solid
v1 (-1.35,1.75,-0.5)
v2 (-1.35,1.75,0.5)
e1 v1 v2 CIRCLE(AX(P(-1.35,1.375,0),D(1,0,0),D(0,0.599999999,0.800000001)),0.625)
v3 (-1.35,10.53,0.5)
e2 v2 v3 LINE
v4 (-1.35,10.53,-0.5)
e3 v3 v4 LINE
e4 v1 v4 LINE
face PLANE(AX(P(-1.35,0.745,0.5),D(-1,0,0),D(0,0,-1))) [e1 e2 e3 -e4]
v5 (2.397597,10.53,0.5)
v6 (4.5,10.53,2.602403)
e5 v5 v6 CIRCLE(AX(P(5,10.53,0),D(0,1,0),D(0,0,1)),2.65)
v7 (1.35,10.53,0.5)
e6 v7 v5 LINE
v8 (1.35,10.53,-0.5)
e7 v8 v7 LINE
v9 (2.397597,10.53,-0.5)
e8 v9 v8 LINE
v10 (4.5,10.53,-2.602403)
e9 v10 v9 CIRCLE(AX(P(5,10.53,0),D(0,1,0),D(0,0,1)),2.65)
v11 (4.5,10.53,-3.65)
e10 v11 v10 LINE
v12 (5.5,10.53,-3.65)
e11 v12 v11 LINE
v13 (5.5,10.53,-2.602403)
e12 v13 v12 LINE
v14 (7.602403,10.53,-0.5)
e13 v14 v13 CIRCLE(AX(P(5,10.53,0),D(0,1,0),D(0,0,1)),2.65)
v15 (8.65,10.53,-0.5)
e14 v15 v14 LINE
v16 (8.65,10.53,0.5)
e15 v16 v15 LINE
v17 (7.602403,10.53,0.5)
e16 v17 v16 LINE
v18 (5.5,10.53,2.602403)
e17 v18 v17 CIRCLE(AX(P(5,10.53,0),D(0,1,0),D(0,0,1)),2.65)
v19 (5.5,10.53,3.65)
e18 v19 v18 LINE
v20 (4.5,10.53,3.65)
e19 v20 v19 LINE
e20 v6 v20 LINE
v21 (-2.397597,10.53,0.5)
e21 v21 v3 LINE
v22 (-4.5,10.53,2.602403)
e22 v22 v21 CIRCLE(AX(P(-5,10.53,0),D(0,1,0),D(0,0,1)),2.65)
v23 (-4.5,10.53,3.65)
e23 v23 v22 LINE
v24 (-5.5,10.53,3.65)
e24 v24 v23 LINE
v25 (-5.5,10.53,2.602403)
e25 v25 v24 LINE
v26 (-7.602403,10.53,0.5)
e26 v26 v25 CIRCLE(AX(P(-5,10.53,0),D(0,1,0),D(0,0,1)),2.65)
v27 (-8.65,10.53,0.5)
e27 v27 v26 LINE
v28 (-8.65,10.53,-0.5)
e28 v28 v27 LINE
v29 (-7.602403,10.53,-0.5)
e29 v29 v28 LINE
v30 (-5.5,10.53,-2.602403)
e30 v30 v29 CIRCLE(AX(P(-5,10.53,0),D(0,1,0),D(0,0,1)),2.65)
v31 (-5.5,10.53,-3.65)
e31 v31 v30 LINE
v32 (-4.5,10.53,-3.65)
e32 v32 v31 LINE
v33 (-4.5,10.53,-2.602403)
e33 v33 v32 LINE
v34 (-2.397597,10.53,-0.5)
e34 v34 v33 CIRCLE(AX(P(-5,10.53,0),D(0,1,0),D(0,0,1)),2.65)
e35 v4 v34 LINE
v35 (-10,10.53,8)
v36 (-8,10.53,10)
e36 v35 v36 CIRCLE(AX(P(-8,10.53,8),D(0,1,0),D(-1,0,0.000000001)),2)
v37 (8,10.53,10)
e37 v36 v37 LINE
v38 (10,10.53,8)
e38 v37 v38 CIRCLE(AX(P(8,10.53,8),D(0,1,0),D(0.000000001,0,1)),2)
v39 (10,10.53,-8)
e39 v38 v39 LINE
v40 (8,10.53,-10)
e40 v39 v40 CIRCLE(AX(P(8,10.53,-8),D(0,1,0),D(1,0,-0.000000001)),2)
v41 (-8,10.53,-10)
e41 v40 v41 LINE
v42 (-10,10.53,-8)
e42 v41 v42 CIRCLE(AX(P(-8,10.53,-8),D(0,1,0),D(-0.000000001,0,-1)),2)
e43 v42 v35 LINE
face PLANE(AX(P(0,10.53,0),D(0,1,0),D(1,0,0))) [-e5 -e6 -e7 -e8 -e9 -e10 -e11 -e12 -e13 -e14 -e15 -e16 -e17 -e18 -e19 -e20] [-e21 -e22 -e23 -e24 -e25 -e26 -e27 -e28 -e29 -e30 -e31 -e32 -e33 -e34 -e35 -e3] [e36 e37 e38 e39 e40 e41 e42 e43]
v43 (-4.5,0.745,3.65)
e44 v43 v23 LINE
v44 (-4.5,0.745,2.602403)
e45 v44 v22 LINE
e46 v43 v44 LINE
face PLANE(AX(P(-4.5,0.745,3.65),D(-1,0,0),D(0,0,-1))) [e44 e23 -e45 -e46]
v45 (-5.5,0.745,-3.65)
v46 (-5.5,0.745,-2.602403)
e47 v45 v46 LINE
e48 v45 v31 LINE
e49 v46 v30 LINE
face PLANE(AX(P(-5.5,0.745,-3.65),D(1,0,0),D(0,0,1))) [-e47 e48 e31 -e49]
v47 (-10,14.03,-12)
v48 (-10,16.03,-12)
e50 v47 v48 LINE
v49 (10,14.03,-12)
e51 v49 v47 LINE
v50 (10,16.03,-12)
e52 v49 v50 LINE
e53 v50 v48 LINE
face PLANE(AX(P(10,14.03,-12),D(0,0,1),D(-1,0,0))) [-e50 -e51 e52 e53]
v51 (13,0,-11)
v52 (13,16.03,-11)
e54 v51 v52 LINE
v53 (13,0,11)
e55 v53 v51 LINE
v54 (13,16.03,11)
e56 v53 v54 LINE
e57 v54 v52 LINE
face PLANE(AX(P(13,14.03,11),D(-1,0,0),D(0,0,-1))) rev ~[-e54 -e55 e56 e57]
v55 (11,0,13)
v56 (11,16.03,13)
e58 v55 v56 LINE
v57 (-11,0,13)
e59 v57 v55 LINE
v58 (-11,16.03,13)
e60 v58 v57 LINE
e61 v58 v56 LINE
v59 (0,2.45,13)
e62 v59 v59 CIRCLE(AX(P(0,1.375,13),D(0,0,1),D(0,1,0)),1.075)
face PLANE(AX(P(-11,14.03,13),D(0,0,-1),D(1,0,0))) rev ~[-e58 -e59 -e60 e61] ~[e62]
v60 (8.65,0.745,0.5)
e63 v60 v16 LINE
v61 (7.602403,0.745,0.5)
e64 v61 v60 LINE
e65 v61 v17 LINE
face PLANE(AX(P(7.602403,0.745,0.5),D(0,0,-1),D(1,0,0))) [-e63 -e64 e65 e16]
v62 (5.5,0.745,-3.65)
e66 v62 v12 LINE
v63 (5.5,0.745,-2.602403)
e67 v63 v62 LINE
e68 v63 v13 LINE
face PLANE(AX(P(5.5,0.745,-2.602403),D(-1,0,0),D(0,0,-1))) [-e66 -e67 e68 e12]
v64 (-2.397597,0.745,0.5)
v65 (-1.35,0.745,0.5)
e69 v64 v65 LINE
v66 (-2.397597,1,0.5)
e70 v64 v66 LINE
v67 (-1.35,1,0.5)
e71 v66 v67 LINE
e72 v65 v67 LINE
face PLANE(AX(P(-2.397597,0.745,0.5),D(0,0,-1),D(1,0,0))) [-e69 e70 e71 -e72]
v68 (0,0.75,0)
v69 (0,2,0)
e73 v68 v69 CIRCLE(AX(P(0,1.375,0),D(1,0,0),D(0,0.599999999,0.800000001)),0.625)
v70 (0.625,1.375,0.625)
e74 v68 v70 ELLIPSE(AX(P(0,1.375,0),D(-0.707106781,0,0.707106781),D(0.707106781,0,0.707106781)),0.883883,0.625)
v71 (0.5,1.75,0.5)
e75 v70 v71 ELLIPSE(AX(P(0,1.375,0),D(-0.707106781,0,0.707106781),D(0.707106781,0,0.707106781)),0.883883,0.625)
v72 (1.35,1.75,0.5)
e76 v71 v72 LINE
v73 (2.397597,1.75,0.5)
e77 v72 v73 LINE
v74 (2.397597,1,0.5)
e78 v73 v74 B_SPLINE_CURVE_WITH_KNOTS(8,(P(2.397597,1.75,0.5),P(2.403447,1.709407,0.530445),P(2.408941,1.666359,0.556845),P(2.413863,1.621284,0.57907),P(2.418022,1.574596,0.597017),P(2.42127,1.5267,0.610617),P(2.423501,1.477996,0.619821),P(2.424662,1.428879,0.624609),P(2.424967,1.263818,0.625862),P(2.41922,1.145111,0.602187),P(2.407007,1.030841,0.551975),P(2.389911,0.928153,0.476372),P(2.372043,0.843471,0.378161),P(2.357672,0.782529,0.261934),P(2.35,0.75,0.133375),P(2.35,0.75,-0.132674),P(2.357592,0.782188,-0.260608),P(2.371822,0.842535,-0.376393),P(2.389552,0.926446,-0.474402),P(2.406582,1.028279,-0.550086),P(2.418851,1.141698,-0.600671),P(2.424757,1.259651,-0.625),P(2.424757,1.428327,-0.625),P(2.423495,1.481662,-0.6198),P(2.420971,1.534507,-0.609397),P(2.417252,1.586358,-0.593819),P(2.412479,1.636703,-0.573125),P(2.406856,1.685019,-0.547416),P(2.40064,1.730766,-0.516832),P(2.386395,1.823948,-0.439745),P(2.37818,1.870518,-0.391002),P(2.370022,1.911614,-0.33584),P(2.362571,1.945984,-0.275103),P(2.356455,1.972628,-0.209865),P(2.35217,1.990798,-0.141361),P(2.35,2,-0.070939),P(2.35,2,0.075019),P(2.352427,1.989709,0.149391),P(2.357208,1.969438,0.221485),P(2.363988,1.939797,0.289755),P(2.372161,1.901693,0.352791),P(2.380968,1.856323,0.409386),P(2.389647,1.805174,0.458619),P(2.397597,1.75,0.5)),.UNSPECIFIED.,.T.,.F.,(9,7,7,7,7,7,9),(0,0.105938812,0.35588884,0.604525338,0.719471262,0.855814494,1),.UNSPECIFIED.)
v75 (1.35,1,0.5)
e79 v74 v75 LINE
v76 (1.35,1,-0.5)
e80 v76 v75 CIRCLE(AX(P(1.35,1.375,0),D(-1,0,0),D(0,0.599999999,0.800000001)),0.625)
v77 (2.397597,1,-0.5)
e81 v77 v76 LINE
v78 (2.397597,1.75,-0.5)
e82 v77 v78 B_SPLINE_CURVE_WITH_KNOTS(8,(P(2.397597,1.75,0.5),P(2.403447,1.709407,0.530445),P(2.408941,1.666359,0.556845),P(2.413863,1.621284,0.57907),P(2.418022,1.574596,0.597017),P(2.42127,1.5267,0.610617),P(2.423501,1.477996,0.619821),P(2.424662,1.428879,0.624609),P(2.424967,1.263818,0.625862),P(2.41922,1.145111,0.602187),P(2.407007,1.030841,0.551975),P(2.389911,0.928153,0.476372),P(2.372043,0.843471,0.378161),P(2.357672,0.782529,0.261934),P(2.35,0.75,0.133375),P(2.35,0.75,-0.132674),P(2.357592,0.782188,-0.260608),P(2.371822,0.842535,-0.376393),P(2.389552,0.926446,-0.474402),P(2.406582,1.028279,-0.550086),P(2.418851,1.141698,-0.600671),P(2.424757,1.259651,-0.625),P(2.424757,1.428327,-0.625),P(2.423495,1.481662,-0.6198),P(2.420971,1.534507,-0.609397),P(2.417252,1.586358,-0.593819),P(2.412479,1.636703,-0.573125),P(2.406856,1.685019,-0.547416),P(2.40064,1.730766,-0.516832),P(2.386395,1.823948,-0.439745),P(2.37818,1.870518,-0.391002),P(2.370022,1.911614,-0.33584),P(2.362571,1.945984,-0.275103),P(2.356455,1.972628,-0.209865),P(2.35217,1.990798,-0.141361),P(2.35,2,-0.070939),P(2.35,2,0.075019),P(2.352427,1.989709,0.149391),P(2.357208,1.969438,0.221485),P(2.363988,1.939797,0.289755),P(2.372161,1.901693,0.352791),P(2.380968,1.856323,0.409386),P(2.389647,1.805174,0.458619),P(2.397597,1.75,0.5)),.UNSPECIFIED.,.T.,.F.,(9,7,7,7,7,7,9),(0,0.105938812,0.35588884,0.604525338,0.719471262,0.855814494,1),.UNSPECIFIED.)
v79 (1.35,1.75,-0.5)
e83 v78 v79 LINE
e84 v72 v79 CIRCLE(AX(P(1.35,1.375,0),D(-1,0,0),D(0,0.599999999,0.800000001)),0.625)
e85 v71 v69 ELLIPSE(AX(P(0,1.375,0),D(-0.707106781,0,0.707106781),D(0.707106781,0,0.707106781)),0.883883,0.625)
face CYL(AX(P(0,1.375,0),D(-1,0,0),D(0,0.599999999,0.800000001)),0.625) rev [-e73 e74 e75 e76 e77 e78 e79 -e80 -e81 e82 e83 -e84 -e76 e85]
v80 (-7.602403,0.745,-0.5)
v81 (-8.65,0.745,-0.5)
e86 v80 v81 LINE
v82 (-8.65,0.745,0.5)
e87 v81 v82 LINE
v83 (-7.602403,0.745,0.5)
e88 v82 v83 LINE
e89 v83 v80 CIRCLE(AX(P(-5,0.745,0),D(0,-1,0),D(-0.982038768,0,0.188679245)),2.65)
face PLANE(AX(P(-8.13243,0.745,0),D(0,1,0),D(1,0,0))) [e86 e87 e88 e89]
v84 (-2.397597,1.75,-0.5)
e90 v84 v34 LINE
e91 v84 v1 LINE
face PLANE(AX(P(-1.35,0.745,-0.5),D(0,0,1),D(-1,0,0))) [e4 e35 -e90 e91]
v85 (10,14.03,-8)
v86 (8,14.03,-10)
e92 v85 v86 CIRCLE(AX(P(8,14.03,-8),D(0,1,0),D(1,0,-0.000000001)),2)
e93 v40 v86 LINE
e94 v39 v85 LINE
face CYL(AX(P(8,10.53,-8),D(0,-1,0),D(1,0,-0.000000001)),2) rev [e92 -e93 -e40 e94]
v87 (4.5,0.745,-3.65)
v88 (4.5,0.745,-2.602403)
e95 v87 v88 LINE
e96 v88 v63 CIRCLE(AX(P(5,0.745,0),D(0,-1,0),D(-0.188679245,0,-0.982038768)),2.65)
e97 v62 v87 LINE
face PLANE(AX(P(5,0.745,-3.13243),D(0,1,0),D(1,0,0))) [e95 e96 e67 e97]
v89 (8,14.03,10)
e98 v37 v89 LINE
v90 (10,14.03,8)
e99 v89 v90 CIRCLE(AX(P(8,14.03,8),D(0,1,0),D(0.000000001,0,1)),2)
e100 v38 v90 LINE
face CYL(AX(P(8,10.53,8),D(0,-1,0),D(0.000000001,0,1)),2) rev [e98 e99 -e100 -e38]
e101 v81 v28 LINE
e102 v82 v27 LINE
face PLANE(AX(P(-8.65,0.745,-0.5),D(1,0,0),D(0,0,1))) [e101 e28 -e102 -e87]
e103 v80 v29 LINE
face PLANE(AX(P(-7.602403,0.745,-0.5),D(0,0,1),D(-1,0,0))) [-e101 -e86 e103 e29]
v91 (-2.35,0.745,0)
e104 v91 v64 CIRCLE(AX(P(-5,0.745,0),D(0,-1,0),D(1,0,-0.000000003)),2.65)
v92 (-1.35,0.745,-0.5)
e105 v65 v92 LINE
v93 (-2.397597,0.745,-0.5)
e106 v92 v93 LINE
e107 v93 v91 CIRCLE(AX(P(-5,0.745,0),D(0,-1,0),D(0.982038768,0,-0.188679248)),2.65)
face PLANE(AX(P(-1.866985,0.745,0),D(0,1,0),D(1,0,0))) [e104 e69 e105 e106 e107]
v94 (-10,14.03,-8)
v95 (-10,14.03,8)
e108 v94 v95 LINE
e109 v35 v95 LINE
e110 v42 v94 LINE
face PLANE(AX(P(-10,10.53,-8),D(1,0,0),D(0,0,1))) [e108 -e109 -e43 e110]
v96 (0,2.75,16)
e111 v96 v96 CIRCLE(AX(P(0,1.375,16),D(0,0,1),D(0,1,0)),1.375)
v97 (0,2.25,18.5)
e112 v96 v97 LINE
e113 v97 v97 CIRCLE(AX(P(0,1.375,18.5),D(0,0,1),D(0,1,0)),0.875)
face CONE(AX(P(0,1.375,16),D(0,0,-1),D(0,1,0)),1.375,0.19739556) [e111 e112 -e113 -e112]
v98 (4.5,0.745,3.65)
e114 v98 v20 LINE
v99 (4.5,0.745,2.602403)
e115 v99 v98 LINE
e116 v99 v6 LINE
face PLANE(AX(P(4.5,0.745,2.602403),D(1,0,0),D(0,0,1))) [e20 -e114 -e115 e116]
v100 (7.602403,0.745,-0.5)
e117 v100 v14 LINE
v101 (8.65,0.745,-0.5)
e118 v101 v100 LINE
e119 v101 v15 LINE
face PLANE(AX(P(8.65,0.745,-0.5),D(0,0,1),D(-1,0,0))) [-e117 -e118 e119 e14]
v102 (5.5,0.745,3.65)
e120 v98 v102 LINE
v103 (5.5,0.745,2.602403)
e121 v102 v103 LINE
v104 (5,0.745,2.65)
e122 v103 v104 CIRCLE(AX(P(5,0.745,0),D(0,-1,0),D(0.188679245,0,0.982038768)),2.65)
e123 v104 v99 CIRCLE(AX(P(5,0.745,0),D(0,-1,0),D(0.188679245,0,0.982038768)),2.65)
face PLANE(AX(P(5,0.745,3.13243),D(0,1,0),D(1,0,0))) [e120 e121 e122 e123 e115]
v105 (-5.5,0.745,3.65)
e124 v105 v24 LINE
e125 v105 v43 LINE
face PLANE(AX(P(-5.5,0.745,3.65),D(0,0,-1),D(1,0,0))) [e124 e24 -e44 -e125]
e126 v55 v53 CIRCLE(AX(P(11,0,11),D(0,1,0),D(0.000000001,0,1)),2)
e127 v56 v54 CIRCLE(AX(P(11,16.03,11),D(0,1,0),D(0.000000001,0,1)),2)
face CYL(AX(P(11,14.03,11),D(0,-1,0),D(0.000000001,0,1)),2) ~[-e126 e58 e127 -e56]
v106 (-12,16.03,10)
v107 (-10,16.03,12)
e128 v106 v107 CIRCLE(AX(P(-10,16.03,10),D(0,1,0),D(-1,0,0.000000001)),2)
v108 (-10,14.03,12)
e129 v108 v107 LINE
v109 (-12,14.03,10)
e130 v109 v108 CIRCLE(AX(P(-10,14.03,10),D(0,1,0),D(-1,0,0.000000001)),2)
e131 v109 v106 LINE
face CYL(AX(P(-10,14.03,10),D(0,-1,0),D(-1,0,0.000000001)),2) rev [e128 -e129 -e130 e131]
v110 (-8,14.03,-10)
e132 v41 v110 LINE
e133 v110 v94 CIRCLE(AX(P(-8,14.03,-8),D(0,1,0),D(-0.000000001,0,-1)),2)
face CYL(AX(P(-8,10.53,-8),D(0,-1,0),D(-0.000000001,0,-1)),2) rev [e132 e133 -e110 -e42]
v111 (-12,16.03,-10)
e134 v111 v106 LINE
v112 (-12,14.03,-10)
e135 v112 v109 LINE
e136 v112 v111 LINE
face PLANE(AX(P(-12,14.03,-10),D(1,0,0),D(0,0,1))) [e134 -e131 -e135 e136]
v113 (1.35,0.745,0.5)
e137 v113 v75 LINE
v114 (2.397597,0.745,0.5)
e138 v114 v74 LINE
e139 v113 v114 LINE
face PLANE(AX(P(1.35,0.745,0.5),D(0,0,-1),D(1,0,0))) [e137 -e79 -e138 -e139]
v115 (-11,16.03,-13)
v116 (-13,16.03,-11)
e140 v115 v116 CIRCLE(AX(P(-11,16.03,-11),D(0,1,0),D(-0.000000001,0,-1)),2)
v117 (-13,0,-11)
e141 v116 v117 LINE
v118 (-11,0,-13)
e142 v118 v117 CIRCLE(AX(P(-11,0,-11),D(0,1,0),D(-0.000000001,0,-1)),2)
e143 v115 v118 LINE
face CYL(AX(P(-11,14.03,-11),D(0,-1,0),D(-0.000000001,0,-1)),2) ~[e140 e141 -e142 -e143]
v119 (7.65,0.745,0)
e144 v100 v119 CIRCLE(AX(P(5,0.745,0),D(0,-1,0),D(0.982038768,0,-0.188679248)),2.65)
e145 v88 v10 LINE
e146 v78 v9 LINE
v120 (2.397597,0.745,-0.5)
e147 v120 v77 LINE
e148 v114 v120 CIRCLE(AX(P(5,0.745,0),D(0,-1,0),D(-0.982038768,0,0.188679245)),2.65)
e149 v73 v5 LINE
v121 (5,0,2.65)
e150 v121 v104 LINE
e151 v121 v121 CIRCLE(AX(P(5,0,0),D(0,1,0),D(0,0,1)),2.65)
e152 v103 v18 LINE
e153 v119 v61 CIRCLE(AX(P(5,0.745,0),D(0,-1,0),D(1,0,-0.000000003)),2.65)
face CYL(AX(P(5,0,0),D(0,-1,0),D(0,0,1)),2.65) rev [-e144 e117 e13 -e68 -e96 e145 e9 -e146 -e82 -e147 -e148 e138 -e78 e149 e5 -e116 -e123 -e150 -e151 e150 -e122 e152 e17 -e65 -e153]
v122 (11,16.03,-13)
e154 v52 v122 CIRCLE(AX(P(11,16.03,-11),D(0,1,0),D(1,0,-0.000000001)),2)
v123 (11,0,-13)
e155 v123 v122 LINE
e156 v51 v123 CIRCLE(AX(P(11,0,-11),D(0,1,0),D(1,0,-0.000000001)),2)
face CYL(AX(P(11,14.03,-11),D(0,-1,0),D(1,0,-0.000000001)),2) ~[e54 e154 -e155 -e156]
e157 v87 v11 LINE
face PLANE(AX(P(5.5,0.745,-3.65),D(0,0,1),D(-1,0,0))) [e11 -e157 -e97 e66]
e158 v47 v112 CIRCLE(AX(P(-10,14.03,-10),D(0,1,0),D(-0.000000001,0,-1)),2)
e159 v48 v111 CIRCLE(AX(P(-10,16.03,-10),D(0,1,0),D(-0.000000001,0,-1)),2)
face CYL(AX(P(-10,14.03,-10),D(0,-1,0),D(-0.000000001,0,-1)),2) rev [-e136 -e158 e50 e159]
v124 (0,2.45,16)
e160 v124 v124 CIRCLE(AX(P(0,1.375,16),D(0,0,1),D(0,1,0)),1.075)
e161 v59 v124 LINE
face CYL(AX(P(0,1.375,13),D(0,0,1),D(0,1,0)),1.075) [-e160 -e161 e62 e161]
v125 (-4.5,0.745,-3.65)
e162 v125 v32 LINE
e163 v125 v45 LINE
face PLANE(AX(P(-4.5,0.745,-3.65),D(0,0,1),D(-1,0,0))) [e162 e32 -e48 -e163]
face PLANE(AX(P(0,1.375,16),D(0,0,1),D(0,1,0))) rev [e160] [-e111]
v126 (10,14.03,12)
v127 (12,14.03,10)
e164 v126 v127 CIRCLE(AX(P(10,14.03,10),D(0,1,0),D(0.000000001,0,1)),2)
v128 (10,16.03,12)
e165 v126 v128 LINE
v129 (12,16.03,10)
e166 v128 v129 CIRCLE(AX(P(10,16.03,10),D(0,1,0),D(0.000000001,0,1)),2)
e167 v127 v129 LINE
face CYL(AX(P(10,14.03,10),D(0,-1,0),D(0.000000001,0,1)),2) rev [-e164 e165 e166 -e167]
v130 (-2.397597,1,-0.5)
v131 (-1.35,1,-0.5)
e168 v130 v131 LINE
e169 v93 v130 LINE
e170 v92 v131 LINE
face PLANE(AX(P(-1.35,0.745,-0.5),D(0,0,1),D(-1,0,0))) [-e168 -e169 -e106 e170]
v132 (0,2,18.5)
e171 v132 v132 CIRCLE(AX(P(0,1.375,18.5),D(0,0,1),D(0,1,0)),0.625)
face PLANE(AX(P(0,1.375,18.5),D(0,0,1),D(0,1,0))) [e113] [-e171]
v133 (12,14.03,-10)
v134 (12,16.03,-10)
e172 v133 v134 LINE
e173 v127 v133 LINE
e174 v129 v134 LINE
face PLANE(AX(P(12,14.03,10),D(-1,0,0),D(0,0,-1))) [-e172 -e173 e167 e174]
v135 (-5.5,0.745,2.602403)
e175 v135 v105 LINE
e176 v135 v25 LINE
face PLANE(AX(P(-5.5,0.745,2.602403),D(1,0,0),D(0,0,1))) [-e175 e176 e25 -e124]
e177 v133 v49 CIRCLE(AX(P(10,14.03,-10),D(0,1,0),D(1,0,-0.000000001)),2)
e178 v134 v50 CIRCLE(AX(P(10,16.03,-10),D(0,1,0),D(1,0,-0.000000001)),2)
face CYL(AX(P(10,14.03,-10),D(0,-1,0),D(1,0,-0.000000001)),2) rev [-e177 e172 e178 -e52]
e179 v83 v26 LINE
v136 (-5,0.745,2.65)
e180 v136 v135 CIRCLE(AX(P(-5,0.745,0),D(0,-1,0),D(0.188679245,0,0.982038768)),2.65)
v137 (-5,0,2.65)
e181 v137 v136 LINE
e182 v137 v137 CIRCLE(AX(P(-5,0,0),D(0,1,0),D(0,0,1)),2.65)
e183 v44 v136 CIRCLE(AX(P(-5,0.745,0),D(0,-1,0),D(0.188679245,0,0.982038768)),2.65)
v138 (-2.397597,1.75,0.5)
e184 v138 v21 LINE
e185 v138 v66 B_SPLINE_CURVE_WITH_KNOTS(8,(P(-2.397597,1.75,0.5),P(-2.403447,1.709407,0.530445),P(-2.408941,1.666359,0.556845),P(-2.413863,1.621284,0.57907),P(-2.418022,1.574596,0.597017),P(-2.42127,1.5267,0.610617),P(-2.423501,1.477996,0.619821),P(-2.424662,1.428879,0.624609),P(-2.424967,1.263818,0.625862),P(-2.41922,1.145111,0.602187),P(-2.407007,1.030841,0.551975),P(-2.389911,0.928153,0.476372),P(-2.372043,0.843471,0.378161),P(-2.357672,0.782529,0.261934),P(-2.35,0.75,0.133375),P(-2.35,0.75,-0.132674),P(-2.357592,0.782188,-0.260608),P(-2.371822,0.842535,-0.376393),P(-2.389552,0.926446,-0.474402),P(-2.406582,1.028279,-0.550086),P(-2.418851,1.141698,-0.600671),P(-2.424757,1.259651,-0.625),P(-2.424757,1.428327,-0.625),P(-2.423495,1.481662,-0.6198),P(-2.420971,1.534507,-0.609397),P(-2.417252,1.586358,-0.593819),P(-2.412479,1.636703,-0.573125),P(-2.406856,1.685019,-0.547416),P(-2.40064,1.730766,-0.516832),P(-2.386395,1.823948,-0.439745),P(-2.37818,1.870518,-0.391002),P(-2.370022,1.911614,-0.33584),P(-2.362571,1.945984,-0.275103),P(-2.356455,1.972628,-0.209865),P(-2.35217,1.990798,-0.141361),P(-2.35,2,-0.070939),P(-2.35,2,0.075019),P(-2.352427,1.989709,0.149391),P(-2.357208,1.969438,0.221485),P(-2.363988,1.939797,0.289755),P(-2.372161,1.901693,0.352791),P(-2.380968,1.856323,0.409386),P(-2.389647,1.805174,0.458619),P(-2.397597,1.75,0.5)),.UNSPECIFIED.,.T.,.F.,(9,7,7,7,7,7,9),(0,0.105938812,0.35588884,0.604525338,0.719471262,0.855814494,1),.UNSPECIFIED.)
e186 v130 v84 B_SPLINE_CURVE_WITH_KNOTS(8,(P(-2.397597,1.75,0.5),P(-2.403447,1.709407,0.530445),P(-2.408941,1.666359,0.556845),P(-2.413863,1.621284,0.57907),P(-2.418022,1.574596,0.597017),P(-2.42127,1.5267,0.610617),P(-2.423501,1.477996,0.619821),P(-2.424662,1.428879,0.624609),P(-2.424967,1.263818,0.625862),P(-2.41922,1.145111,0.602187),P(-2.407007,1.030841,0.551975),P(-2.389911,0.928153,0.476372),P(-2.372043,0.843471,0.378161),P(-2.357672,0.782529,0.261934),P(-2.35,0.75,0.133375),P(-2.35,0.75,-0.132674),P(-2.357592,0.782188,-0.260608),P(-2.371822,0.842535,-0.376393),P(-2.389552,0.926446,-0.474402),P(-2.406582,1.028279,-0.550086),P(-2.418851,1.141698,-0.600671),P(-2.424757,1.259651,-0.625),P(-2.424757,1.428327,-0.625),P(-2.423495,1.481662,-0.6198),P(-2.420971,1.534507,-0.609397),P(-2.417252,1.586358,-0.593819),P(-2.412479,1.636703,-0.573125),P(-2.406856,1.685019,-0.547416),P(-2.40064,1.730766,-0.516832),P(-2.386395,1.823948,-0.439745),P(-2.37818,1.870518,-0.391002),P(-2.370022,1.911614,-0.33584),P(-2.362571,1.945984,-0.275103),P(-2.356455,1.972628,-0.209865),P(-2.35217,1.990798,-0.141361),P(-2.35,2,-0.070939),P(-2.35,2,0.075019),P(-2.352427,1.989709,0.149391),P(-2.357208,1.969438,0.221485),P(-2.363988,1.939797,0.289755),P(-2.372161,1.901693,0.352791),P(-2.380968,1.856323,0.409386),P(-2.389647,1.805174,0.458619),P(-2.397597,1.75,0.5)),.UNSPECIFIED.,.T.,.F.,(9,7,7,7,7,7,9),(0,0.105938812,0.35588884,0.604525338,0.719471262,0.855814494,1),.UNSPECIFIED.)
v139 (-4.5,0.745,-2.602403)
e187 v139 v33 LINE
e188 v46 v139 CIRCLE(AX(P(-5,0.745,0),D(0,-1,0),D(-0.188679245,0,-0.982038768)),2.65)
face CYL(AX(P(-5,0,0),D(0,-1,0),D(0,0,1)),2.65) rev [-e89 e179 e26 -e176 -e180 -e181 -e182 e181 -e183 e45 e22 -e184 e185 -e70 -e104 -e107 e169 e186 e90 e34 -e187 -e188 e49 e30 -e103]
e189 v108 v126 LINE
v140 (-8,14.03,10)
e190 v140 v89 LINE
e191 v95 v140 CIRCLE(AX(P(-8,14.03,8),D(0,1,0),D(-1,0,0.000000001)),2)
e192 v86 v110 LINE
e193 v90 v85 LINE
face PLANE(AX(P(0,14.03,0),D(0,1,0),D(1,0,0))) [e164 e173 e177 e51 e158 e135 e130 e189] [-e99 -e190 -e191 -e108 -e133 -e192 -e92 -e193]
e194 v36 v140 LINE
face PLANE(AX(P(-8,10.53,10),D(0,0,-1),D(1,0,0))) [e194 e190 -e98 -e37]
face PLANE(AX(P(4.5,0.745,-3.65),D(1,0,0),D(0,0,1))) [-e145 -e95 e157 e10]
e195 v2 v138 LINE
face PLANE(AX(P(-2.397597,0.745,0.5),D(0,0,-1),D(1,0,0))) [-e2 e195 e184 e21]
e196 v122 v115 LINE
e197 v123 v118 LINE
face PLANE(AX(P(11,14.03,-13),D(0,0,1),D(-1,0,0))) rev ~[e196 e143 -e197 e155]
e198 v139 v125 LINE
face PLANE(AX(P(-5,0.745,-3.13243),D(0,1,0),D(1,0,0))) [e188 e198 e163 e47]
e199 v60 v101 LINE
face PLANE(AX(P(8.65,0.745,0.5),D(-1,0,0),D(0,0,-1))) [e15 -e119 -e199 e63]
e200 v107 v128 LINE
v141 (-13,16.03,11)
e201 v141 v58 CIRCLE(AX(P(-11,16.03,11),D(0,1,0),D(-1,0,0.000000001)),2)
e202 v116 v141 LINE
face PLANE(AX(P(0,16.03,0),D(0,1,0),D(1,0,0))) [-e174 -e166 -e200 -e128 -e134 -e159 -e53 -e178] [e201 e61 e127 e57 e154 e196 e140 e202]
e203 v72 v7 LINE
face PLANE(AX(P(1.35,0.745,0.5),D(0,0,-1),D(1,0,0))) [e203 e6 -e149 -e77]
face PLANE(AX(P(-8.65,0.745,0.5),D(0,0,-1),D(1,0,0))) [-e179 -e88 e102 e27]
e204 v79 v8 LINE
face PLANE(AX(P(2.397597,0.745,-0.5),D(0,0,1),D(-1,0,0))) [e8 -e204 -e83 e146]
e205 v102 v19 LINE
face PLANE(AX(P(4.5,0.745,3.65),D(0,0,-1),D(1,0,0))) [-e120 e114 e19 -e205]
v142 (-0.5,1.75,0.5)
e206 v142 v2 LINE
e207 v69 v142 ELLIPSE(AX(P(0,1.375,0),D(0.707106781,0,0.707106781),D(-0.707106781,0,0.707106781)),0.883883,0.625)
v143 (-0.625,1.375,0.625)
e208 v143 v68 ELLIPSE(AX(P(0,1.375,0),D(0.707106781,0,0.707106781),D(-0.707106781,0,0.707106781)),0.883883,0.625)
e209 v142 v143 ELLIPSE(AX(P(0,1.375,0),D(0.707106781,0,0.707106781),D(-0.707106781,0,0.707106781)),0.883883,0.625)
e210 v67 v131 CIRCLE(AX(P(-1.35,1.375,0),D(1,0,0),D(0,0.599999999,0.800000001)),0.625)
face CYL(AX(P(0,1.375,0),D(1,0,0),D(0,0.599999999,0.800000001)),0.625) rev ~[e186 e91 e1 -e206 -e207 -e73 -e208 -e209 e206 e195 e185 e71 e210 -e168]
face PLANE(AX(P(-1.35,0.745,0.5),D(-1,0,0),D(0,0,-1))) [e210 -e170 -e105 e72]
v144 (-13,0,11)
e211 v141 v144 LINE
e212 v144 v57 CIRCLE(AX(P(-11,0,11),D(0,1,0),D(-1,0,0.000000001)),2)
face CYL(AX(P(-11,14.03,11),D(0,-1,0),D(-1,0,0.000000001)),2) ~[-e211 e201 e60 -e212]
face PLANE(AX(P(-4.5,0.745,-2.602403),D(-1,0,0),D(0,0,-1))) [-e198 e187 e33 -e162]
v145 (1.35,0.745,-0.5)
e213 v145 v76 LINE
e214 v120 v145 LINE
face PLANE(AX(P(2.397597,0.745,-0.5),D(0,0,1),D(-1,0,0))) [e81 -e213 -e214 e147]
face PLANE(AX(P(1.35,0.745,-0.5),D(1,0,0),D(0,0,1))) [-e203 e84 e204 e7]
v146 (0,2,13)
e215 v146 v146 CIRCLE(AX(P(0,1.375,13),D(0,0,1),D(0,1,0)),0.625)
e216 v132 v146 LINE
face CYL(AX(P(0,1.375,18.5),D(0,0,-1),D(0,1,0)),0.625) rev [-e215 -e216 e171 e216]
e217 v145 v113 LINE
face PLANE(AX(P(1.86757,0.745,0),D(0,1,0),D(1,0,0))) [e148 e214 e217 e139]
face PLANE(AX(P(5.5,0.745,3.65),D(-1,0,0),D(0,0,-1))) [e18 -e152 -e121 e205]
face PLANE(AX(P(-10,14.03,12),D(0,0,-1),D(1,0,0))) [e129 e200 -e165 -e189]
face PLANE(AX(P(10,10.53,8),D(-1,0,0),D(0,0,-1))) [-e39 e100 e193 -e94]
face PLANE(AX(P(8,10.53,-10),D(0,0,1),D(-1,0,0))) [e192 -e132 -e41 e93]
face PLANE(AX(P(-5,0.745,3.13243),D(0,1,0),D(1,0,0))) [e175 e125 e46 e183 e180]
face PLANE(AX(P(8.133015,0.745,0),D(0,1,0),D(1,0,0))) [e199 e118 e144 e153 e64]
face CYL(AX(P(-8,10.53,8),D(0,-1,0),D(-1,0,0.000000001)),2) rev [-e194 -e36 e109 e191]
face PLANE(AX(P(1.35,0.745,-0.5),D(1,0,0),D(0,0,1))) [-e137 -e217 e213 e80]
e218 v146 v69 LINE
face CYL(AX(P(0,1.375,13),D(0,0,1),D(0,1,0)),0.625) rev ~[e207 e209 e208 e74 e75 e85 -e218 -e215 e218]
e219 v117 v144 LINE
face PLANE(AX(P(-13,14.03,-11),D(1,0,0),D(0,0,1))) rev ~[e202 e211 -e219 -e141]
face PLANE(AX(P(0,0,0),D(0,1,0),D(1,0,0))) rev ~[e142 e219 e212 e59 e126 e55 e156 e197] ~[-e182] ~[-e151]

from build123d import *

# Parameters (mm, degrees)
SKETCH1_R                      = 2.65
BOSS_EXTRUDE1_DEPTH            = 10.53
CUT_EXTRUDE1_START             = -9.785
CUT_EXTRUDE1_DEPTH             = 9.785
CUT_EXTRUDE3_REACH             = 26.943
SKETCH10_R                     = 0.625
CUT_EXTRUDE3_DIRECTION_2_REACH = 26.943
CUT_EXTRUDE2_REACH             = 32.917
SKETCH5_R                      = 0.625
BOSS_EXTRUDE2_DEPTH            = 3.5
BOSS_EXTRUDE3_DEPTH            = 2


with BuildPart() as part:
    # Sketch1 → Boss-Extrude1 (new body)
    with BuildSketch(Plane(origin=(0, 0, 0), x_dir=(1, 0, 0), z_dir=(0, 1, 0))):
        with BuildLine():
            Line((-11, -13), (11, -13))
            ThreePointArc((11, -13), (12.414213562, -12.414213562), (13, -11))
            Line((13, -11), (13, 11))
            ThreePointArc((13, 11), (12.414213562, 12.414213562), (11, 13))
            Line((11, 13), (-11, 13))
            ThreePointArc((-11, 13), (-12.414213562, 12.414213562), (-13, 11))
            Line((-13, 11), (-13, -11))
            ThreePointArc((-13, -11), (-12.414213562, -12.414213562), (-11, -13))
        make_face()
        with Locations(Location((5, 0, 0), (0, 0, 270))):
            Circle(SKETCH1_R, mode=Mode.SUBTRACT)
        with Locations(Location((-5, 0, 0), (0, 0, 270))):
            Circle(SKETCH1_R, mode=Mode.SUBTRACT)
    extrude(amount=BOSS_EXTRUDE1_DEPTH)

    # Sketch2 → Cut-Extrude1 (cut)
    with BuildSketch(Plane(origin=(0, 10.53, 0), x_dir=(1, 0, 0), z_dir=(0, 1, 0)).offset(CUT_EXTRUDE1_START)):
        with BuildLine():
            Line((4.5, 3.65), (4.5, 2.602402736))
            ThreePointArc((4.5, 2.602402736), (5, 2.65), (5.5, 2.602402736))
            Line((5.5, 2.602402736), (5.5, 3.65))
            Line((5.5, 3.65), (4.5, 3.65))
        make_face()
        with BuildLine():
            ThreePointArc((7.65, 0), (7.638073848, -0.251130195), (7.602402736, -0.5))
            Line((7.602402736, -0.5), (8.65, -0.5))
            Line((8.65, -0.5), (8.65, 0.5))
            Line((8.65, 0.5), (7.602402736, 0.5))
            ThreePointArc((7.602402736, 0.5), (7.638073848, 0.251130195), (7.65, 0))
        make_face()
        with BuildLine():
            Line((4.5, -2.602402736), (4.5, -3.65))
            Line((4.5, -3.65), (5.5, -3.65))
            Line((5.5, -3.65), (5.5, -2.602402736))
            ThreePointArc((5.5, -2.602402736), (5, -2.65), (4.5, -2.602402736))
        make_face()
        with BuildLine():
            Line((1.35, -0.5), (2.397597264, -0.5))
            ThreePointArc((2.397597264, -0.5), (2.35, 0), (2.397597264, 0.5))
            Line((2.397597264, 0.5), (1.35, 0.5))
            Line((1.35, 0.5), (1.35, -0.5))
        make_face()
        with BuildLine():
            ThreePointArc((-2.35, 0), (-2.361926152, -0.251130195), (-2.397597264, -0.5))
            Line((-2.397597264, -0.5), (-1.35, -0.5))
            Line((-1.35, -0.5), (-1.35, 0.5))
            Line((-1.35, 0.5), (-2.397597264, 0.5))
            ThreePointArc((-2.397597264, 0.5), (-2.361926152, 0.251130195), (-2.35, 0))
        make_face()
        with BuildLine():
            Line((-5.5, 3.65), (-5.5, 2.602402736))
            ThreePointArc((-5.5, 2.602402736), (-5, 2.65), (-4.5, 2.602402736))
            Line((-4.5, 2.602402736), (-4.5, 3.65))
            Line((-4.5, 3.65), (-5.5, 3.65))
        make_face()
        with BuildLine():
            Line((-8.65, 0.5), (-8.65, -0.5))
            Line((-8.65, -0.5), (-7.602402736, -0.5))
            ThreePointArc((-7.602402736, -0.5), (-7.65, 0), (-7.602402736, 0.5))
            Line((-7.602402736, 0.5), (-8.65, 0.5))
        make_face()
        with BuildLine():
            ThreePointArc((-4.5, -2.602402736), (-5, -2.65), (-5.5, -2.602402736))
            Line((-5.5, -2.602402736), (-5.5, -3.65))
            Line((-5.5, -3.65), (-4.5, -3.65))
            Line((-4.5, -3.65), (-4.5, -2.602402736))
        make_face()
    extrude(amount=CUT_EXTRUDE1_DEPTH, mode=Mode.SUBTRACT)

    # Sketch3 → Revolve1 (revolve)
    with BuildSketch(Plane(origin=(0, 0, 0), x_dir=(0, 0, -1), z_dir=(1, 0, 0)), mode=Mode.PRIVATE) as revolve1_sk:
        Polygon((-13, 0.3), (-16, 0.3), (-16, 0), (-18.5, 0.5), (-18.5, 0.75), (-13, 0.75), align=None)
    revolve(revolve1_sk.sketch.rotate(Axis((0, 1.375, 13), (0, 0, 1)), 180), axis=Axis((0, 1.375, 13), (0, 0, 1)))

    # Sketch10 → Cut-Extrude3 (cut, up to next)
    with BuildSketch(Plane(origin=(0, 0, 0), x_dir=(0, 0, -1), z_dir=(1, 0, 0)), mode=Mode.PRIVATE) as cut_extrude3_sk1:
        with Locations(Location((0, 1.375, 0), (0, 0, 143.130102406))):
            Circle(SKETCH10_R)
    cut_extrude3_tool1 = extrude(cut_extrude3_sk1.sketch, amount=-CUT_EXTRUDE3_REACH, mode=Mode.PRIVATE) & part.part
    add(cut_extrude3_tool1.solids().sort_by_distance((0, 1.375, 0))[0], mode=Mode.SUBTRACT)

    # Sketch10 → Cut-Extrude3 direction 2 (cut, up to next)
    with BuildSketch(Plane(origin=(0, 0, 0), x_dir=(0, 0, -1), z_dir=(1, 0, 0)), mode=Mode.PRIVATE) as cut_extrude3_direction_2_sk1:
        with Locations(Location((0, 1.375, 0), (0, 0, 143.130102406))):
            Circle(SKETCH10_R)
    cut_extrude3_direction_2_tool1 = extrude(cut_extrude3_direction_2_sk1.sketch, amount=CUT_EXTRUDE3_DIRECTION_2_REACH, mode=Mode.PRIVATE) & part.part
    add(cut_extrude3_direction_2_tool1.solids().sort_by_distance((0, 1.375, 0))[0], mode=Mode.SUBTRACT)

    # Sketch5 → Cut-Extrude2 (cut, up to next)
    with BuildSketch(Plane.XY.offset(13), mode=Mode.PRIVATE) as cut_extrude2_sk1:
        with Locations(Location((0, 1.375, 0), (0, 0, 90))):
            Circle(SKETCH5_R)
    cut_extrude2_tool1 = extrude(cut_extrude2_sk1.sketch, amount=-CUT_EXTRUDE2_REACH, mode=Mode.PRIVATE) & part.part
    add(cut_extrude2_tool1.solids().sort_by_distance((0, 1.375, 13))[0], mode=Mode.SUBTRACT)

    # Sketch6 → Boss-Extrude2 (add)
    with BuildSketch(Plane(origin=(0, 10.53, 0), x_dir=(1, 0, 0), z_dir=(0, 1, 0))):
        with BuildLine():
            Line((-11, -13), (11, -13))
            ThreePointArc((11, -13), (12.414213562, -12.414213562), (13, -11))
            Line((13, -11), (13, 11))
            ThreePointArc((13, 11), (12.414213562, 12.414213562), (11, 13))
            Line((11, 13), (-11, 13))
            ThreePointArc((-11, 13), (-12.414213562, 12.414213562), (-13, 11))
            Line((-13, 11), (-13, -11))
            ThreePointArc((-13, -11), (-12.414213562, -12.414213562), (-11, -13))
        make_face()
        with BuildLine():
            Line((-8, -10), (8, -10))
            ThreePointArc((8, -10), (9.414213562, -9.414213562), (10, -8))
            Line((10, -8), (10, 8))
            ThreePointArc((10, 8), (9.414213562, 9.414213562), (8, 10))
            Line((8, 10), (-8, 10))
            ThreePointArc((-8, 10), (-9.414213562, 9.414213562), (-10, 8))
            Line((-10, 8), (-10, -8))
            ThreePointArc((-10, -8), (-9.414213562, -9.414213562), (-8, -10))
        make_face(mode=Mode.SUBTRACT)
    extrude(amount=BOSS_EXTRUDE2_DEPTH)

    # Sketch8 → Boss-Extrude3 (add)
    with BuildSketch(Plane(origin=(0, 14.03, 0), x_dir=(1, 0, 0), z_dir=(0, 1, 0))):
        with BuildLine():
            Line((-11, -13), (11, -13))
            ThreePointArc((11, -13), (12.414213562, -12.414213562), (13, -11))
            Line((13, -11), (13, 11))
            ThreePointArc((13, 11), (12.414213562, 12.414213562), (11, 13))
            Line((11, 13), (-11, 13))
            ThreePointArc((-11, 13), (-12.414213562, 12.414213562), (-13, 11))
            Line((-13, 11), (-13, -11))
            ThreePointArc((-13, -11), (-12.414213562, -12.414213562), (-11, -13))
        make_face()
        with BuildLine():
            Line((-10, -12), (10, -12))
            ThreePointArc((10, -12), (11.414213562, -11.414213562), (12, -10))
            Line((12, -10), (12, 10))
            ThreePointArc((12, 10), (11.414213562, 11.414213562), (10, 12))
            Line((10, 12), (-10, 12))
            ThreePointArc((-10, 12), (-11.414213562, 11.414213562), (-12, 10))
            Line((-12, 10), (-12, -10))
            ThreePointArc((-12, -10), (-11.414213562, -11.414213562), (-10, -12))
        make_face(mode=Mode.SUBTRACT)
    extrude(amount=BOSS_EXTRUDE3_DEPTH)


solid = part.part
